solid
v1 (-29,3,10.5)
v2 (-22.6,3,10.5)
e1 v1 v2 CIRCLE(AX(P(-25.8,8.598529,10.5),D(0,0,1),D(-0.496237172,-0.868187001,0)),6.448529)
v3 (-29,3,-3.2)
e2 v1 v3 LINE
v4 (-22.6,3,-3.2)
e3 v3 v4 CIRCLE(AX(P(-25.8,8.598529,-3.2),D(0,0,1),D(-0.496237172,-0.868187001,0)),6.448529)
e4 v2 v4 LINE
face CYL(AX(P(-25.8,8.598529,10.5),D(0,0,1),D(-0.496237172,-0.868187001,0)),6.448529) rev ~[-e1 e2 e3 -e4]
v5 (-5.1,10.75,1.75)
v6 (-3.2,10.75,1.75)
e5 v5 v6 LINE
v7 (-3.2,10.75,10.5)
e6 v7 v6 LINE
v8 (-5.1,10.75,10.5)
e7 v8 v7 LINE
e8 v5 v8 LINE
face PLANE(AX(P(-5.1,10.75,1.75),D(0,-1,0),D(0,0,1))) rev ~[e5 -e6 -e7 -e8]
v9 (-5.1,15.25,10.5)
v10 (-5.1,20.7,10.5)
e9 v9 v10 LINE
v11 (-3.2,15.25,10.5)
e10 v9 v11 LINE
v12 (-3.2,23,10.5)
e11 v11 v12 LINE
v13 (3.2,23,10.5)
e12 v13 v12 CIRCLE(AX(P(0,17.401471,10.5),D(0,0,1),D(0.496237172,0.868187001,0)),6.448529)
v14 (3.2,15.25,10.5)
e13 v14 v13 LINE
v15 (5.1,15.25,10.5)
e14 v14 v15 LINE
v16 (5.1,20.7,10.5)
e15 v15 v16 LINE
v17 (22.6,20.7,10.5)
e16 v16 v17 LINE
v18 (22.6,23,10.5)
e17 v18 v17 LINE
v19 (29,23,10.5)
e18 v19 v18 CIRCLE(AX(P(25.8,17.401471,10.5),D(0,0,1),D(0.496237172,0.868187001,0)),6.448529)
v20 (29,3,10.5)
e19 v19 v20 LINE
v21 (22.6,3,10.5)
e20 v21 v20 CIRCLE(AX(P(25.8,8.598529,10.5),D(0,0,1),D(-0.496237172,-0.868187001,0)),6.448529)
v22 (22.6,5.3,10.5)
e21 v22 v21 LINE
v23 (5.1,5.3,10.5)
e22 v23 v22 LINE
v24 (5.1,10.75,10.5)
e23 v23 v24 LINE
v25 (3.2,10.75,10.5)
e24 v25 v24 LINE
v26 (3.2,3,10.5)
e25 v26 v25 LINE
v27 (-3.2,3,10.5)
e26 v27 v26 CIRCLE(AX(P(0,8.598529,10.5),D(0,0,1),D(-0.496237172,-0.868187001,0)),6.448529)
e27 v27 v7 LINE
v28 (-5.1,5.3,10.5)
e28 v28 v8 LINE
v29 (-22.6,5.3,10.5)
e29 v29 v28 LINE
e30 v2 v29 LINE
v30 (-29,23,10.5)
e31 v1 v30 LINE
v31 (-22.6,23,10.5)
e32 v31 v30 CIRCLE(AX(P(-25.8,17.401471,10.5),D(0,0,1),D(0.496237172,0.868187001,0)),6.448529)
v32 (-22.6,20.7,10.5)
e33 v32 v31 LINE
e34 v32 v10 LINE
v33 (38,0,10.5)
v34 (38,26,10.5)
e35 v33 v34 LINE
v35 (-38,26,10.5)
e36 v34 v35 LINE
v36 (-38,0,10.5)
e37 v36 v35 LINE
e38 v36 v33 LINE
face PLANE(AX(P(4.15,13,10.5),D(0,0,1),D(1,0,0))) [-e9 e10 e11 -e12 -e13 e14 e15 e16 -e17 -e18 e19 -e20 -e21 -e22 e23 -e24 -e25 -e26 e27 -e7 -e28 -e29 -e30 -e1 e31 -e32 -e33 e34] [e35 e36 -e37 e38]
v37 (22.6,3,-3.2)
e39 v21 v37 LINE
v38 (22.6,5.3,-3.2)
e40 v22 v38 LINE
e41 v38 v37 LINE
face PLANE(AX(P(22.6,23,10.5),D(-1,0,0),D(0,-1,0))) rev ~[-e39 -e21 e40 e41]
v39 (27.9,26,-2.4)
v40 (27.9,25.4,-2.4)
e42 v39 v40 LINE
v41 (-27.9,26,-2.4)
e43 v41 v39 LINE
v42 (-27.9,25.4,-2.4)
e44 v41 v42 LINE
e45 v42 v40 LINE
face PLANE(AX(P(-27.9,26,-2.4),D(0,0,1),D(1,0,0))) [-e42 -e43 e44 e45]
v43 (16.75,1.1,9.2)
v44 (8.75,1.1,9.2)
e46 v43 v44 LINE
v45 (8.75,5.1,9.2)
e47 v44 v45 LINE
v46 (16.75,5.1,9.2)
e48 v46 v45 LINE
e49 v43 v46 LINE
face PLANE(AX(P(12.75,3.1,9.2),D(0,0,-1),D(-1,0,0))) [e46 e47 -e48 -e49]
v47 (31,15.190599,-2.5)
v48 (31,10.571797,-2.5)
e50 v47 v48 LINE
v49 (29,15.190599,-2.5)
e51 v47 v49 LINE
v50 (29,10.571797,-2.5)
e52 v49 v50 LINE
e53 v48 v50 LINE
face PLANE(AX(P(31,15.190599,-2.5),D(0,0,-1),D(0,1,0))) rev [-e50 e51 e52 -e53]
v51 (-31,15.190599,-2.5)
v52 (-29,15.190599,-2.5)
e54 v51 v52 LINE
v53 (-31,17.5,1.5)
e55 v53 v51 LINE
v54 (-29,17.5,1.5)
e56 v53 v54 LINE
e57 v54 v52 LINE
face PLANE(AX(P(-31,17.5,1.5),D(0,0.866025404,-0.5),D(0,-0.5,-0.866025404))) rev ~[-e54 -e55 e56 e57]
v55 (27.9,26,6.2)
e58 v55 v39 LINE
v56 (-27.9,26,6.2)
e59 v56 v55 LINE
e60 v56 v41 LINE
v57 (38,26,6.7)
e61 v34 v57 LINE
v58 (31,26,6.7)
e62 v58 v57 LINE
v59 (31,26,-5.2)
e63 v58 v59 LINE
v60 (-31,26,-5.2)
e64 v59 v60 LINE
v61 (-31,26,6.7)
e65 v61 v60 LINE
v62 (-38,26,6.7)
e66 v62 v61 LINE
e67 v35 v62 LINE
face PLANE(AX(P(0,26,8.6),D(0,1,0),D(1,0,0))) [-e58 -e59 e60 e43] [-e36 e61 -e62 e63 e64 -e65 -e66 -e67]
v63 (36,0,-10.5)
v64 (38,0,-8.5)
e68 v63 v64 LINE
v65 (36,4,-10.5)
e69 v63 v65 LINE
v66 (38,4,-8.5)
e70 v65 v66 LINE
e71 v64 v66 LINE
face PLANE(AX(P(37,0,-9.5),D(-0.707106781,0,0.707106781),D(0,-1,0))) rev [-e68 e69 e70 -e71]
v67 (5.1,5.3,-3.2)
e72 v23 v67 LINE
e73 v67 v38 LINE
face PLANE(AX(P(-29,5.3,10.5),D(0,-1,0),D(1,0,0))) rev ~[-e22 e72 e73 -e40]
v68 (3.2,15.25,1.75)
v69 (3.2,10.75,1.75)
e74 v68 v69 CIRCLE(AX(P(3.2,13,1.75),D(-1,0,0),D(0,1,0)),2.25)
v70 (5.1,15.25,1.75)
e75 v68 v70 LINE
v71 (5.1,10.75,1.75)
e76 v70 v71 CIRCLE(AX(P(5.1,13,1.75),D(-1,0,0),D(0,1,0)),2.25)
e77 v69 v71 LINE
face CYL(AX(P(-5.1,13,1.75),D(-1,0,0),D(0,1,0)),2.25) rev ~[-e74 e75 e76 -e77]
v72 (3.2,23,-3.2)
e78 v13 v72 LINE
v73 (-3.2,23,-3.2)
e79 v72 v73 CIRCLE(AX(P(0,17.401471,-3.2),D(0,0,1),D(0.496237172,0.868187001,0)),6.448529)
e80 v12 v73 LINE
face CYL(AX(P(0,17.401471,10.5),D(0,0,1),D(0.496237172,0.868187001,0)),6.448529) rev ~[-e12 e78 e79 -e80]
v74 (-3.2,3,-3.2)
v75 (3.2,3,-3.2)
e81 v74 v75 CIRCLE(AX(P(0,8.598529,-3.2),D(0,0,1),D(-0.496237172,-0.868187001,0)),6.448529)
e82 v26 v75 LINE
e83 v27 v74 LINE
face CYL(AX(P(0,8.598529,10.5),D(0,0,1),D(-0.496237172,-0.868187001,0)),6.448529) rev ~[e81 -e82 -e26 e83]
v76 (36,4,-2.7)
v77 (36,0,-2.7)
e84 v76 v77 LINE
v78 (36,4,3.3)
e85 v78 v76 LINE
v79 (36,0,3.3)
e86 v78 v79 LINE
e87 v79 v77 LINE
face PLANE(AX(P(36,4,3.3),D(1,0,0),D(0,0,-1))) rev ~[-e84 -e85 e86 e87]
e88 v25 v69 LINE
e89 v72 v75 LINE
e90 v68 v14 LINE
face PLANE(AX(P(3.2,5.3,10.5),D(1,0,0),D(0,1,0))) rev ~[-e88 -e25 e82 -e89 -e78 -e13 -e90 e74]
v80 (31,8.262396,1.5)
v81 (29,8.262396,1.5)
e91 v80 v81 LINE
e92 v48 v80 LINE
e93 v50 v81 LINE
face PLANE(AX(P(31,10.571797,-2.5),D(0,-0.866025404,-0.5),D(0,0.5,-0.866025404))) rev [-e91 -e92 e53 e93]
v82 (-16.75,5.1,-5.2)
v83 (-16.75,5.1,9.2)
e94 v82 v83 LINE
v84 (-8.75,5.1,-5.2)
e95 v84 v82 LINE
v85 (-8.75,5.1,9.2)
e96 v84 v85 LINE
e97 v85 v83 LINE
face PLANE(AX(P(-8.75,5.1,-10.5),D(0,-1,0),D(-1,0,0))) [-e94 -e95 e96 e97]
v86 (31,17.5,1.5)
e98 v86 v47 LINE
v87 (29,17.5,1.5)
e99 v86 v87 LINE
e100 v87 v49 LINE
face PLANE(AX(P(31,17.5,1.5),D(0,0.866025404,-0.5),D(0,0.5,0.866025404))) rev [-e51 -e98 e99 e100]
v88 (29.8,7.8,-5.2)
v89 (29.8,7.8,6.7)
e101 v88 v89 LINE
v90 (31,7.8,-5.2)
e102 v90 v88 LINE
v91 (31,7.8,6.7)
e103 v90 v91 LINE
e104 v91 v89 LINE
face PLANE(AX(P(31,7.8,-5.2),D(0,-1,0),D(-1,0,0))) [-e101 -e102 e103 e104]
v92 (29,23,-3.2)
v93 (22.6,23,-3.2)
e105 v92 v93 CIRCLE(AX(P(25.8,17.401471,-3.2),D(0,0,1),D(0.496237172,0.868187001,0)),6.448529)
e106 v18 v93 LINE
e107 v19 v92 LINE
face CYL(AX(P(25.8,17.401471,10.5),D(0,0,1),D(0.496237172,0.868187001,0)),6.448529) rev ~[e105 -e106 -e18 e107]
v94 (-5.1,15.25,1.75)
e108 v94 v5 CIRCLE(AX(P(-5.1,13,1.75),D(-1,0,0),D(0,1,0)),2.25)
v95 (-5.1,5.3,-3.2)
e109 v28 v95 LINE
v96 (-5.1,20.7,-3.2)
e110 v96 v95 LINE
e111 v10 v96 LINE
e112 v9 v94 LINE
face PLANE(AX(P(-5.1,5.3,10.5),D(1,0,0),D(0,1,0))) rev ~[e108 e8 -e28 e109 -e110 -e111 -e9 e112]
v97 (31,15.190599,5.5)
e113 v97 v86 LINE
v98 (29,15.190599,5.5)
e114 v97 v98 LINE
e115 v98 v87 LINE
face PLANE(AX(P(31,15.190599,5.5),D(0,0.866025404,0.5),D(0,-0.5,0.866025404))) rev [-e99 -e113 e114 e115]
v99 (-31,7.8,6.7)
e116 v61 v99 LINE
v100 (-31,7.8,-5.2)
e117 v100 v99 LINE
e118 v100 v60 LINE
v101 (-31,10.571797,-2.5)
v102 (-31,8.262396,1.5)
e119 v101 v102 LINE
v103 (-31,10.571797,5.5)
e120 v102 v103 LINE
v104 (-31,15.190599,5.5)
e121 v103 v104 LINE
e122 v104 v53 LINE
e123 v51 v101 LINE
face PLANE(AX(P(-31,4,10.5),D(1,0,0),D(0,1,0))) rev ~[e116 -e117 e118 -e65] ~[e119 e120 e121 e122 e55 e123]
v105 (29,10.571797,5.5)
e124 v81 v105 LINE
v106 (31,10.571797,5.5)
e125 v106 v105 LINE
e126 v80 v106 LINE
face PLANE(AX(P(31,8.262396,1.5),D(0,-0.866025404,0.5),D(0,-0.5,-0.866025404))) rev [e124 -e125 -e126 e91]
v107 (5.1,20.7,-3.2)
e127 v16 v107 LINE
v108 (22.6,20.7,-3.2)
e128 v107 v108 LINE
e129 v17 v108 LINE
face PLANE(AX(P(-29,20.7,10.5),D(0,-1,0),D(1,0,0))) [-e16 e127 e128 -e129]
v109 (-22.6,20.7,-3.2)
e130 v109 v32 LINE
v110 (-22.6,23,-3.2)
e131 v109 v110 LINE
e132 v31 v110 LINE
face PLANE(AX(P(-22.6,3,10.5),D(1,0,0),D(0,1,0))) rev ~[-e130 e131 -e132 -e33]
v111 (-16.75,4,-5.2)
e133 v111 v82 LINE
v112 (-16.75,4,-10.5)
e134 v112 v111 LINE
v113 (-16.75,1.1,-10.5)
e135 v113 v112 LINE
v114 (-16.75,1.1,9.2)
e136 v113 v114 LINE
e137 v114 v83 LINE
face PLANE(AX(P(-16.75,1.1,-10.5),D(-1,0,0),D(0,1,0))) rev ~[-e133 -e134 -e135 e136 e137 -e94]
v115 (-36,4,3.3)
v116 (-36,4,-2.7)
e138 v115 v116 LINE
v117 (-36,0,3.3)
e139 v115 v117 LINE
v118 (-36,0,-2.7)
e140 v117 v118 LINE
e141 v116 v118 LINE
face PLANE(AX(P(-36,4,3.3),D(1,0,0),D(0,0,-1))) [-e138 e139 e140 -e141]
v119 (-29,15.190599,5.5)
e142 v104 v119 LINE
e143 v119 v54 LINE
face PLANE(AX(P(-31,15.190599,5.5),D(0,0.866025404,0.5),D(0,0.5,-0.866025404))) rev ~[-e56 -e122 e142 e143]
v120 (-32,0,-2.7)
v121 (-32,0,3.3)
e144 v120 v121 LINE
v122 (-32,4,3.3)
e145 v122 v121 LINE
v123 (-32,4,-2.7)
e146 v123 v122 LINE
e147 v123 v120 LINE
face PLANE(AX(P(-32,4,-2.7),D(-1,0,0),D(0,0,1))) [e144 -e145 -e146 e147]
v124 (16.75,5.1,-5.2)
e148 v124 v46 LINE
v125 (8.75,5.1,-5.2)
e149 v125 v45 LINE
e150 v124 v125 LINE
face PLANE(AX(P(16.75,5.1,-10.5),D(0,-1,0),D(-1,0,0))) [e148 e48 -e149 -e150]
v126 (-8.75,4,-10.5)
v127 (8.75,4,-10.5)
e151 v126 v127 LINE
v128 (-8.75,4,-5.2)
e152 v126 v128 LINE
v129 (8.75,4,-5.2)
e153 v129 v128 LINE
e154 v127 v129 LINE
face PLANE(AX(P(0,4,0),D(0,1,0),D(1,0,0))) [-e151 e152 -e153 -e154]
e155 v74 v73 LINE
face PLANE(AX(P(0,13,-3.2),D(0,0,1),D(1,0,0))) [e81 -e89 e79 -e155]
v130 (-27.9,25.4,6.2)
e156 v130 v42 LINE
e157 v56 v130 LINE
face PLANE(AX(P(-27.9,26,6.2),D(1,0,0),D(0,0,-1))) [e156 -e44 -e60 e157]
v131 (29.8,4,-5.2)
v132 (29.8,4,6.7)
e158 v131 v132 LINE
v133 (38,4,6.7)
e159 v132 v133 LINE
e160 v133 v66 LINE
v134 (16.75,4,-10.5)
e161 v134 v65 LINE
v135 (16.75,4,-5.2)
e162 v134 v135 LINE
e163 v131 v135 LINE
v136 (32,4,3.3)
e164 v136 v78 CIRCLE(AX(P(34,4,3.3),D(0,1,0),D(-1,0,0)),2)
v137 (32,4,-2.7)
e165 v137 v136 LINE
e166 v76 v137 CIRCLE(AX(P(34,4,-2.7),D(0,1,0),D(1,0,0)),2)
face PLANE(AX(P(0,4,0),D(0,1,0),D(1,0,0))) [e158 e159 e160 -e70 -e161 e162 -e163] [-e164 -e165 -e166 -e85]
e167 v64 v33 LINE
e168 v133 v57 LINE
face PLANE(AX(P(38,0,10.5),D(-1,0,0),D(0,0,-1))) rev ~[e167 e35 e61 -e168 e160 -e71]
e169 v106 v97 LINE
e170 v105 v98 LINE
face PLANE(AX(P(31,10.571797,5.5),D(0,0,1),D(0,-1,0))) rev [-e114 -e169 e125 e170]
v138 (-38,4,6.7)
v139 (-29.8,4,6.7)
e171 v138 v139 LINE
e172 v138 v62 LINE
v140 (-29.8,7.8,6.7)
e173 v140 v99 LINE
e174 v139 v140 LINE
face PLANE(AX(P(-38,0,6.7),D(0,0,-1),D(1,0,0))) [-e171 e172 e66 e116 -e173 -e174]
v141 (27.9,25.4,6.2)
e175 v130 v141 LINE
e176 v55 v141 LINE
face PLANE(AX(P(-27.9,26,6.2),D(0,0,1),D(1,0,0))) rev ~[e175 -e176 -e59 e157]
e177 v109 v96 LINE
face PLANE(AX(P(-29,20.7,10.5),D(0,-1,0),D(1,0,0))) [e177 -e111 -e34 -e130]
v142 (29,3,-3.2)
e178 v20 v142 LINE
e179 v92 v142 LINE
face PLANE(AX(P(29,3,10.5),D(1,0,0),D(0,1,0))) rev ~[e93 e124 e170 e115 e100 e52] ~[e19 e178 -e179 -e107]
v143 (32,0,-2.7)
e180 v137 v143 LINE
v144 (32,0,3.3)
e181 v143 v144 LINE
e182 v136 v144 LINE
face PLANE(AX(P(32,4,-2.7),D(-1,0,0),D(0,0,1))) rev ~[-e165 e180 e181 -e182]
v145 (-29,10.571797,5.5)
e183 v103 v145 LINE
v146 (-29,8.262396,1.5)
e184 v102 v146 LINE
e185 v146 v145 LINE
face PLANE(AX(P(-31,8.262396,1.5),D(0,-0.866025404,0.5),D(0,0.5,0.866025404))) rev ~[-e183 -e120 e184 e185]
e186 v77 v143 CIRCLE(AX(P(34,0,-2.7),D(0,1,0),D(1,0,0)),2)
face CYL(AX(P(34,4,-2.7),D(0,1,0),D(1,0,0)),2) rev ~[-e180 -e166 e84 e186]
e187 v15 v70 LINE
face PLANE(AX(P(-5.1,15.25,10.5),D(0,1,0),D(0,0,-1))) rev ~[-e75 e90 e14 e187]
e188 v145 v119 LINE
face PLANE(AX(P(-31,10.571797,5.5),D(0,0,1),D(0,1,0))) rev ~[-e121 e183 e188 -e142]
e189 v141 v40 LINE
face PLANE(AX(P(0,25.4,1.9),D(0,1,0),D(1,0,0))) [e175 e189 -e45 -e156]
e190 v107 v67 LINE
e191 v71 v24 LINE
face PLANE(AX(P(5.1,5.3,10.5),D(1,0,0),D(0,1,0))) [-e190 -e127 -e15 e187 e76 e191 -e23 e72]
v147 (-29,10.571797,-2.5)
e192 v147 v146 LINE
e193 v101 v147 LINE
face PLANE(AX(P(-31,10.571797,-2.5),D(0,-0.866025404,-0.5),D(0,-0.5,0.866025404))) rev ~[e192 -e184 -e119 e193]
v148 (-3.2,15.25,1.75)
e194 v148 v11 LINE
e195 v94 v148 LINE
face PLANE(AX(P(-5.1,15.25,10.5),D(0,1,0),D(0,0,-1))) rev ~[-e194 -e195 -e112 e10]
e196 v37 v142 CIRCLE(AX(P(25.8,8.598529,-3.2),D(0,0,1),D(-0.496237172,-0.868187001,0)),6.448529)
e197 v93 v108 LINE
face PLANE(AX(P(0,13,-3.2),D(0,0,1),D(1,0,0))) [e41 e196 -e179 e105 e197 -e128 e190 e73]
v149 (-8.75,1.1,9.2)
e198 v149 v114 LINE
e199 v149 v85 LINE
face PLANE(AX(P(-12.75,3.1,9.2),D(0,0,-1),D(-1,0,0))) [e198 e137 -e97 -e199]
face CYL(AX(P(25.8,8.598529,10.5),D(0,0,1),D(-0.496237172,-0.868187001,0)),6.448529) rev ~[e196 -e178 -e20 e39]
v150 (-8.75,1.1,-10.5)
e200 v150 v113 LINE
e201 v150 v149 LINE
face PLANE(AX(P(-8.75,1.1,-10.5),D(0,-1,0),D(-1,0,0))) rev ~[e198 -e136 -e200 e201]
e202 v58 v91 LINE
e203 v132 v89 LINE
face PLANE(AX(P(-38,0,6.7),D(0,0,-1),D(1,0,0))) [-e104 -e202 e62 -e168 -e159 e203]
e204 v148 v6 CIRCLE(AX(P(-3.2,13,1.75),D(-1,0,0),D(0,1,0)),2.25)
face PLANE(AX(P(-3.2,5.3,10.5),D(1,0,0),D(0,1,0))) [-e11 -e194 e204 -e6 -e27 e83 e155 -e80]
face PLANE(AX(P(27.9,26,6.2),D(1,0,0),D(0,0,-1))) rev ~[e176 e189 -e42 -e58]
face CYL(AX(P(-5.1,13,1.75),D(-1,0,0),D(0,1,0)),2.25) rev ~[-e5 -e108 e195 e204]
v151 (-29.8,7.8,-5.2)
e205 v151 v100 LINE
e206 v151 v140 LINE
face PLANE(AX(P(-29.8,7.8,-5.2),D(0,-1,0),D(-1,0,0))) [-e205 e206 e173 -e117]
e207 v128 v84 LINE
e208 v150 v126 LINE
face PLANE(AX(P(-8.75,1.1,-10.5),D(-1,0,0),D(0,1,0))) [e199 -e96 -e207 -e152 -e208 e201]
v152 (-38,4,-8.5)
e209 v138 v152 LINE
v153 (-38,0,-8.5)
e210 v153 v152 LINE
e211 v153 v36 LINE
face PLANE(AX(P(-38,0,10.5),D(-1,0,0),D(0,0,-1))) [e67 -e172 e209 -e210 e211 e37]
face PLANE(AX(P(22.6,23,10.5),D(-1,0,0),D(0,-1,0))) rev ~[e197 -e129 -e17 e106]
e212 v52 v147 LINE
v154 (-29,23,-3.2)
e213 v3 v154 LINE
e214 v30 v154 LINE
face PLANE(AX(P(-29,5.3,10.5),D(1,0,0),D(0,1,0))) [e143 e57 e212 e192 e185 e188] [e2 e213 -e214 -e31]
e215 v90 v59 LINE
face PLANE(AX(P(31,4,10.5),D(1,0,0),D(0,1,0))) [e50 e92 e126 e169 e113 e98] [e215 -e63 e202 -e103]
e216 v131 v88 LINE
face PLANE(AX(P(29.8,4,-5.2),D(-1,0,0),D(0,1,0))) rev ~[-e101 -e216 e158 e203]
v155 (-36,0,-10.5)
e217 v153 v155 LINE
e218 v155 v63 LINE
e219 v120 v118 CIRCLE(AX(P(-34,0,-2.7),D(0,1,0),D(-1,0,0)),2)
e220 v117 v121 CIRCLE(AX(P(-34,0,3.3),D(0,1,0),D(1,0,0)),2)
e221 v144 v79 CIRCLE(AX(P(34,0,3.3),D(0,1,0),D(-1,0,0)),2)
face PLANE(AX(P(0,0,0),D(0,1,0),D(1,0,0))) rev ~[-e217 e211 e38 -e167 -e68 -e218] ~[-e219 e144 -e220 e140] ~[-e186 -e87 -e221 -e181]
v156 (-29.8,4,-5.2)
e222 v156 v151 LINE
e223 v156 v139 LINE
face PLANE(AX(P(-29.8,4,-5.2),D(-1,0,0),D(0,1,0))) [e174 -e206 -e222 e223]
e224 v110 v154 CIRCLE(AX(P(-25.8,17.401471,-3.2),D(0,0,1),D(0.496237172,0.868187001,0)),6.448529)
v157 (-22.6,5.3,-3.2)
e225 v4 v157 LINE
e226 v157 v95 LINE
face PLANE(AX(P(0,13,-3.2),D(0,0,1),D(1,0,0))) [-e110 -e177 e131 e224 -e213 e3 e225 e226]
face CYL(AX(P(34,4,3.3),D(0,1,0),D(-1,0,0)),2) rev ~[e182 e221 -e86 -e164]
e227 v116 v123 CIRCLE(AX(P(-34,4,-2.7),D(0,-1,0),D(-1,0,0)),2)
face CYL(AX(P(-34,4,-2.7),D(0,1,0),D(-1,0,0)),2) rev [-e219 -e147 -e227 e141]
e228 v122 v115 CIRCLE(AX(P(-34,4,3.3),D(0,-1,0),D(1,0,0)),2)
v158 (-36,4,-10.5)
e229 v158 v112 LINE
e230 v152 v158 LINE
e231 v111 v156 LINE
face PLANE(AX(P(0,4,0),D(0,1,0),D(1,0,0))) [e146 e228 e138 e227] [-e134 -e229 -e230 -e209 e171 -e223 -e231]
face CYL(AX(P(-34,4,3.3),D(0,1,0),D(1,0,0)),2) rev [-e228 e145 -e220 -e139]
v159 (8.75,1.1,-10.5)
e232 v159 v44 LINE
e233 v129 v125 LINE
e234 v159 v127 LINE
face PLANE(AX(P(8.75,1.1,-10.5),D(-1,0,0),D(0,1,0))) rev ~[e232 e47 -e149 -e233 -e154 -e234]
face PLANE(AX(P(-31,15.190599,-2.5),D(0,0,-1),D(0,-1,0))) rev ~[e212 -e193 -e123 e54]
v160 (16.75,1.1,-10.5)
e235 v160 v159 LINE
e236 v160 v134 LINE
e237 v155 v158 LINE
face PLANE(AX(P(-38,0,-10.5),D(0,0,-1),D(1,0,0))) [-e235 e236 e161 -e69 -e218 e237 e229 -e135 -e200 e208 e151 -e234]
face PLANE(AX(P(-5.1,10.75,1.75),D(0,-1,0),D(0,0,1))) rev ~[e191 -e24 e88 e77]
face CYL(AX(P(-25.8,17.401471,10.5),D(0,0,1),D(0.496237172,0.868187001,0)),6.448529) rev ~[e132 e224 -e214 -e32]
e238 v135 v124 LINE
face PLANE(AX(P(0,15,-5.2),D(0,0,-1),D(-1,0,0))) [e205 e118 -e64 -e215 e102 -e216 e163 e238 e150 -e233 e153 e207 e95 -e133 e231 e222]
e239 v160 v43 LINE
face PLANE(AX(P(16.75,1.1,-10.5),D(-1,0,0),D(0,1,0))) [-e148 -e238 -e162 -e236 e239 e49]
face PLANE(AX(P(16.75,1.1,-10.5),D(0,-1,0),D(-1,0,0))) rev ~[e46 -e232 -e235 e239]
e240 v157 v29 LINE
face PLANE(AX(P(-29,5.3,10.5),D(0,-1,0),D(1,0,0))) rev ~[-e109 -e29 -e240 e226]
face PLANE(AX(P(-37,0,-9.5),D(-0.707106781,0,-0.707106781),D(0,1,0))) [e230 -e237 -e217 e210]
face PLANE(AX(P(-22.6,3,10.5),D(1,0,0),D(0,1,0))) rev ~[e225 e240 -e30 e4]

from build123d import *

# Parameters (mm, degrees)
SKETCH1_W           = 76
SKETCH1_H           = 21
BOSS_EXTRUDE1_DEPTH = 4
SKETCH2_W           = 76
SKETCH2_H           = 3.8
BOSS_EXTRUDE2_DEPTH = 26
SKETCH3_W           = 62
SKETCH3_H           = 22
BOSS_EXTRUDE3_DEPTH = 15.7
CHAMFER2_SIZE       = 2
SKETCH4_W           = 55.8
SKETCH4_H           = 8.6
CUT_EXTRUDE1_DEPTH  = 0.6
CUT_EXTRUDE2_DEPTH  = 46.14698218
SKETCH6_W           = 8
SKETCH6_H           = 4
CUT_EXTRUDE3_DEPTH  = 19.7
SKETCH7_W           = 58
SKETCH7_H           = 15.4
CUT_EXTRUDE4_DEPTH  = 13.7
CUT_EXTRUDE5_DEPTH  = 13.7
LPATTERN1_COUNT     = 3
LPATTERN1_PITCH     = 25.8
BOSS_EXTRUDE4_REACH = 52.606
SKETCH9_W           = 1.9
SKETCH9_H           = 15.4
CUT_EXTRUDE6_REACH  = 53.418
CUT_EXTRUDE7_REACH  = 76.48
SKETCH12_W          = 1.2
SKETCH12_H          = 3.8
CUT_EXTRUDE8_DEPTH  = 11.9


with BuildPart() as part:
    # Sketch1 → Boss-Extrude1 (new body)
    with BuildSketch(Plane(origin=(0, 0, 0), x_dir=(1, 0, 0), z_dir=(0, 1, 0))):
        Rectangle(SKETCH1_W, SKETCH1_H)
    extrude(amount=BOSS_EXTRUDE1_DEPTH)

    # Sketch2 → Boss-Extrude2 (add)
    with BuildSketch(Plane(origin=(0, 0, 0), x_dir=(1, 0, 0), z_dir=(0, 1, 0))):
        with Locations((0, -8.6)):
            Rectangle(SKETCH2_W, SKETCH2_H)
    extrude(amount=BOSS_EXTRUDE2_DEPTH)

    # Sketch3 → Boss-Extrude3 (add)
    with BuildSketch(Plane(origin=(0, 0, 10.5), x_dir=(-1, 0, 0), z_dir=(0, 0, -1))):
        with Locations((0, 15)):
            Rectangle(SKETCH3_W, SKETCH3_H)
    extrude(amount=BOSS_EXTRUDE3_DEPTH)

    # Chamfer2
    chamfer2_edges = [part.edges().sort_by_distance(p)[0] for p in [
        (-38, 2, -10.5),
        (38, 2, -10.5),
    ]]
    chamfer(chamfer2_edges, length=CHAMFER2_SIZE)

    # Sketch4 → Cut-Extrude1 (cut)
    with BuildSketch(Plane(origin=(0, 26, 0), x_dir=(1, 0, 0), z_dir=(0, 1, 0))):
        with Locations((0, -1.9)):
            Rectangle(SKETCH4_W, SKETCH4_H)
    extrude(amount=-CUT_EXTRUDE1_DEPTH, mode=Mode.SUBTRACT)

    # Sketch5 → Cut-Extrude2 (cut, through all)
    with BuildSketch(Plane(origin=(0, 4, 0), x_dir=(1, 0, 0), z_dir=(0, 1, 0))):
        with BuildLine():
            Line((-32, 2.7), (-32, -3.3))
            ThreePointArc((-32, -3.3), (-34, -5.3), (-36, -3.3))
            Line((-36, -3.3), (-36, 2.7))
            ThreePointArc((-36, 2.7), (-34, 4.7), (-32, 2.7))
        make_face()
        with BuildLine():
            Line((32, 2.7), (32, -3.3))
            ThreePointArc((32, -3.3), (34, -5.3), (36, -3.3))
            Line((36, -3.3), (36, 2.7))
            ThreePointArc((36, 2.7), (34, 4.7), (32, 2.7))
        make_face()
    extrude(amount=-CUT_EXTRUDE2_DEPTH, mode=Mode.SUBTRACT)

    # Sketch6 → Cut-Extrude3 (cut)
    with BuildSketch(Plane(origin=(0, 0, -10.5), x_dir=(-1, 0, 0), z_dir=(0, 0, -1))):
        with Locations((-12.75, 3.1)):
            Rectangle(SKETCH6_W, SKETCH6_H)
        with Locations((12.75, 3.1)):
            Rectangle(SKETCH6_W, SKETCH6_H)
    extrude(amount=-CUT_EXTRUDE3_DEPTH, mode=Mode.SUBTRACT)

    # Sketch7 → Cut-Extrude4 (cut)
    with BuildSketch(Plane.XY.offset(10.5)):
        with Locations((0, 13)):
            Rectangle(SKETCH7_W, SKETCH7_H)
    extrude(amount=-CUT_EXTRUDE4_DEPTH, mode=Mode.SUBTRACT)

    # Sketch8 → Cut-Extrude5 (cut)
    with BuildSketch(Plane.XY.offset(10.5)):
        with BuildLine():
            Line((-29, 23), (-29, 3))
            ThreePointArc((-29, 3), (-25.8, 2.15), (-22.6, 3))
            Line((-22.6, 3), (-22.6, 23))
            ThreePointArc((-22.6, 23), (-25.8, 23.85), (-29, 23))
        make_face()
    cut_extrude5 = extrude(amount=-CUT_EXTRUDE5_DEPTH, mode=Mode.SUBTRACT)

    # LPattern1: Cut-Extrude5 ×3
    with Locations(*[(i * LPATTERN1_PITCH, 0, 0) for i in range(1, LPATTERN1_COUNT)]):
        add(cut_extrude5, mode=Mode.SUBTRACT)

    # Sketch9 → Boss-Extrude4 (add, up to next)
    with BuildSketch(Plane.XY.offset(10.5), mode=Mode.PRIVATE) as boss_extrude4_sk1:
        with Locations((-4.15, 13)):
            Rectangle(SKETCH9_W, SKETCH9_H)
    boss_extrude4_tool1 = extrude(boss_extrude4_sk1.sketch, amount=-BOSS_EXTRUDE4_REACH, mode=Mode.PRIVATE) - part.part
    # Sketch9 → Boss-Extrude4 (add, up to next)
    with BuildSketch(Plane.XY.offset(10.5), mode=Mode.PRIVATE) as boss_extrude4_sk2:
        with Locations((4.15, 13)):
            Rectangle(SKETCH9_W, SKETCH9_H)
    boss_extrude4_tool2 = extrude(boss_extrude4_sk2.sketch, amount=-BOSS_EXTRUDE4_REACH, mode=Mode.PRIVATE) - part.part
    add(boss_extrude4_tool1.solids().sort_by_distance((-4.15, 13, 10.5))[0])
    add(boss_extrude4_tool2.solids().sort_by_distance((4.15, 13, 10.5))[0])

    # Cut-Extrude6: up to this face of the body (flat: up to its plane)
    cut_extrude6_end = Plane(part.part.faces().sort_by_distance((5.1, 13, 3.65))[0])
    # Sketch10 → Cut-Extrude6 (cut, up to the picked face)
    with BuildSketch(Plane.ZY.offset(5.1), mode=Mode.PRIVATE) as cut_extrude6_sk1:
        with BuildLine():
            Line((10.5, 15.25), (1.75, 15.25))
            ThreePointArc((1.75, 15.25), (-0.5, 13), (1.75, 10.75))
            Line((1.75, 10.75), (10.5, 10.75))
            Line((10.5, 10.75), (10.5, 15.25))
        make_face()
    cut_extrude6_tool1 = split(extrude(cut_extrude6_sk1.sketch, amount=-CUT_EXTRUDE6_REACH, mode=Mode.PRIVATE), bisect_by=cut_extrude6_end, keep=Keep.BOTH, mode=Mode.PRIVATE)
    add(cut_extrude6_tool1.solids().sort_by(Axis((-5.1, 13, 5.229437), (1, 0, 0)))[0], mode=Mode.SUBTRACT)

    # Sketch11 → Cut-Extrude7 (cut, up to next)
    with BuildSketch(Plane.ZY.offset(31), mode=Mode.PRIVATE) as cut_extrude7_sk1:
        Polygon((1.5, 17.5), (-2.5, 15.190598923), (-2.5, 10.57179677), (1.5, 8.262395693), (5.5, 10.57179677), (5.5, 15.190598923), align=None)
    cut_extrude7_tool1 = extrude(cut_extrude7_sk1.sketch, amount=-CUT_EXTRUDE7_REACH, mode=Mode.PRIVATE) & part.part
    cut_extrude7 = cut_extrude7_tool1.solids().sort_by_distance((-31, 12.881198, 1.5))[0]
    add(cut_extrude7, mode=Mode.SUBTRACT)

    # Mirror1: Cut-Extrude7 across plane
    add(cut_extrude7.mirror(Plane(origin=(0, 0, 0), x_dir=(0, 0, 1), z_dir=(1, 0, 0))), mode=Mode.SUBTRACT)

    # Sketch12 → Cut-Extrude8 (cut)
    with BuildSketch(Plane(origin=(0, 0, -5.2), x_dir=(-1, 0, 0), z_dir=(0, 0, -1))):
        with Locations((-30.4, 5.9)):
            Rectangle(SKETCH12_W, SKETCH12_H)
        with Locations((30.4, 5.9)):
            Rectangle(SKETCH12_W, SKETCH12_H)
    extrude(amount=-CUT_EXTRUDE8_DEPTH, mode=Mode.SUBTRACT)


solid = part.part
